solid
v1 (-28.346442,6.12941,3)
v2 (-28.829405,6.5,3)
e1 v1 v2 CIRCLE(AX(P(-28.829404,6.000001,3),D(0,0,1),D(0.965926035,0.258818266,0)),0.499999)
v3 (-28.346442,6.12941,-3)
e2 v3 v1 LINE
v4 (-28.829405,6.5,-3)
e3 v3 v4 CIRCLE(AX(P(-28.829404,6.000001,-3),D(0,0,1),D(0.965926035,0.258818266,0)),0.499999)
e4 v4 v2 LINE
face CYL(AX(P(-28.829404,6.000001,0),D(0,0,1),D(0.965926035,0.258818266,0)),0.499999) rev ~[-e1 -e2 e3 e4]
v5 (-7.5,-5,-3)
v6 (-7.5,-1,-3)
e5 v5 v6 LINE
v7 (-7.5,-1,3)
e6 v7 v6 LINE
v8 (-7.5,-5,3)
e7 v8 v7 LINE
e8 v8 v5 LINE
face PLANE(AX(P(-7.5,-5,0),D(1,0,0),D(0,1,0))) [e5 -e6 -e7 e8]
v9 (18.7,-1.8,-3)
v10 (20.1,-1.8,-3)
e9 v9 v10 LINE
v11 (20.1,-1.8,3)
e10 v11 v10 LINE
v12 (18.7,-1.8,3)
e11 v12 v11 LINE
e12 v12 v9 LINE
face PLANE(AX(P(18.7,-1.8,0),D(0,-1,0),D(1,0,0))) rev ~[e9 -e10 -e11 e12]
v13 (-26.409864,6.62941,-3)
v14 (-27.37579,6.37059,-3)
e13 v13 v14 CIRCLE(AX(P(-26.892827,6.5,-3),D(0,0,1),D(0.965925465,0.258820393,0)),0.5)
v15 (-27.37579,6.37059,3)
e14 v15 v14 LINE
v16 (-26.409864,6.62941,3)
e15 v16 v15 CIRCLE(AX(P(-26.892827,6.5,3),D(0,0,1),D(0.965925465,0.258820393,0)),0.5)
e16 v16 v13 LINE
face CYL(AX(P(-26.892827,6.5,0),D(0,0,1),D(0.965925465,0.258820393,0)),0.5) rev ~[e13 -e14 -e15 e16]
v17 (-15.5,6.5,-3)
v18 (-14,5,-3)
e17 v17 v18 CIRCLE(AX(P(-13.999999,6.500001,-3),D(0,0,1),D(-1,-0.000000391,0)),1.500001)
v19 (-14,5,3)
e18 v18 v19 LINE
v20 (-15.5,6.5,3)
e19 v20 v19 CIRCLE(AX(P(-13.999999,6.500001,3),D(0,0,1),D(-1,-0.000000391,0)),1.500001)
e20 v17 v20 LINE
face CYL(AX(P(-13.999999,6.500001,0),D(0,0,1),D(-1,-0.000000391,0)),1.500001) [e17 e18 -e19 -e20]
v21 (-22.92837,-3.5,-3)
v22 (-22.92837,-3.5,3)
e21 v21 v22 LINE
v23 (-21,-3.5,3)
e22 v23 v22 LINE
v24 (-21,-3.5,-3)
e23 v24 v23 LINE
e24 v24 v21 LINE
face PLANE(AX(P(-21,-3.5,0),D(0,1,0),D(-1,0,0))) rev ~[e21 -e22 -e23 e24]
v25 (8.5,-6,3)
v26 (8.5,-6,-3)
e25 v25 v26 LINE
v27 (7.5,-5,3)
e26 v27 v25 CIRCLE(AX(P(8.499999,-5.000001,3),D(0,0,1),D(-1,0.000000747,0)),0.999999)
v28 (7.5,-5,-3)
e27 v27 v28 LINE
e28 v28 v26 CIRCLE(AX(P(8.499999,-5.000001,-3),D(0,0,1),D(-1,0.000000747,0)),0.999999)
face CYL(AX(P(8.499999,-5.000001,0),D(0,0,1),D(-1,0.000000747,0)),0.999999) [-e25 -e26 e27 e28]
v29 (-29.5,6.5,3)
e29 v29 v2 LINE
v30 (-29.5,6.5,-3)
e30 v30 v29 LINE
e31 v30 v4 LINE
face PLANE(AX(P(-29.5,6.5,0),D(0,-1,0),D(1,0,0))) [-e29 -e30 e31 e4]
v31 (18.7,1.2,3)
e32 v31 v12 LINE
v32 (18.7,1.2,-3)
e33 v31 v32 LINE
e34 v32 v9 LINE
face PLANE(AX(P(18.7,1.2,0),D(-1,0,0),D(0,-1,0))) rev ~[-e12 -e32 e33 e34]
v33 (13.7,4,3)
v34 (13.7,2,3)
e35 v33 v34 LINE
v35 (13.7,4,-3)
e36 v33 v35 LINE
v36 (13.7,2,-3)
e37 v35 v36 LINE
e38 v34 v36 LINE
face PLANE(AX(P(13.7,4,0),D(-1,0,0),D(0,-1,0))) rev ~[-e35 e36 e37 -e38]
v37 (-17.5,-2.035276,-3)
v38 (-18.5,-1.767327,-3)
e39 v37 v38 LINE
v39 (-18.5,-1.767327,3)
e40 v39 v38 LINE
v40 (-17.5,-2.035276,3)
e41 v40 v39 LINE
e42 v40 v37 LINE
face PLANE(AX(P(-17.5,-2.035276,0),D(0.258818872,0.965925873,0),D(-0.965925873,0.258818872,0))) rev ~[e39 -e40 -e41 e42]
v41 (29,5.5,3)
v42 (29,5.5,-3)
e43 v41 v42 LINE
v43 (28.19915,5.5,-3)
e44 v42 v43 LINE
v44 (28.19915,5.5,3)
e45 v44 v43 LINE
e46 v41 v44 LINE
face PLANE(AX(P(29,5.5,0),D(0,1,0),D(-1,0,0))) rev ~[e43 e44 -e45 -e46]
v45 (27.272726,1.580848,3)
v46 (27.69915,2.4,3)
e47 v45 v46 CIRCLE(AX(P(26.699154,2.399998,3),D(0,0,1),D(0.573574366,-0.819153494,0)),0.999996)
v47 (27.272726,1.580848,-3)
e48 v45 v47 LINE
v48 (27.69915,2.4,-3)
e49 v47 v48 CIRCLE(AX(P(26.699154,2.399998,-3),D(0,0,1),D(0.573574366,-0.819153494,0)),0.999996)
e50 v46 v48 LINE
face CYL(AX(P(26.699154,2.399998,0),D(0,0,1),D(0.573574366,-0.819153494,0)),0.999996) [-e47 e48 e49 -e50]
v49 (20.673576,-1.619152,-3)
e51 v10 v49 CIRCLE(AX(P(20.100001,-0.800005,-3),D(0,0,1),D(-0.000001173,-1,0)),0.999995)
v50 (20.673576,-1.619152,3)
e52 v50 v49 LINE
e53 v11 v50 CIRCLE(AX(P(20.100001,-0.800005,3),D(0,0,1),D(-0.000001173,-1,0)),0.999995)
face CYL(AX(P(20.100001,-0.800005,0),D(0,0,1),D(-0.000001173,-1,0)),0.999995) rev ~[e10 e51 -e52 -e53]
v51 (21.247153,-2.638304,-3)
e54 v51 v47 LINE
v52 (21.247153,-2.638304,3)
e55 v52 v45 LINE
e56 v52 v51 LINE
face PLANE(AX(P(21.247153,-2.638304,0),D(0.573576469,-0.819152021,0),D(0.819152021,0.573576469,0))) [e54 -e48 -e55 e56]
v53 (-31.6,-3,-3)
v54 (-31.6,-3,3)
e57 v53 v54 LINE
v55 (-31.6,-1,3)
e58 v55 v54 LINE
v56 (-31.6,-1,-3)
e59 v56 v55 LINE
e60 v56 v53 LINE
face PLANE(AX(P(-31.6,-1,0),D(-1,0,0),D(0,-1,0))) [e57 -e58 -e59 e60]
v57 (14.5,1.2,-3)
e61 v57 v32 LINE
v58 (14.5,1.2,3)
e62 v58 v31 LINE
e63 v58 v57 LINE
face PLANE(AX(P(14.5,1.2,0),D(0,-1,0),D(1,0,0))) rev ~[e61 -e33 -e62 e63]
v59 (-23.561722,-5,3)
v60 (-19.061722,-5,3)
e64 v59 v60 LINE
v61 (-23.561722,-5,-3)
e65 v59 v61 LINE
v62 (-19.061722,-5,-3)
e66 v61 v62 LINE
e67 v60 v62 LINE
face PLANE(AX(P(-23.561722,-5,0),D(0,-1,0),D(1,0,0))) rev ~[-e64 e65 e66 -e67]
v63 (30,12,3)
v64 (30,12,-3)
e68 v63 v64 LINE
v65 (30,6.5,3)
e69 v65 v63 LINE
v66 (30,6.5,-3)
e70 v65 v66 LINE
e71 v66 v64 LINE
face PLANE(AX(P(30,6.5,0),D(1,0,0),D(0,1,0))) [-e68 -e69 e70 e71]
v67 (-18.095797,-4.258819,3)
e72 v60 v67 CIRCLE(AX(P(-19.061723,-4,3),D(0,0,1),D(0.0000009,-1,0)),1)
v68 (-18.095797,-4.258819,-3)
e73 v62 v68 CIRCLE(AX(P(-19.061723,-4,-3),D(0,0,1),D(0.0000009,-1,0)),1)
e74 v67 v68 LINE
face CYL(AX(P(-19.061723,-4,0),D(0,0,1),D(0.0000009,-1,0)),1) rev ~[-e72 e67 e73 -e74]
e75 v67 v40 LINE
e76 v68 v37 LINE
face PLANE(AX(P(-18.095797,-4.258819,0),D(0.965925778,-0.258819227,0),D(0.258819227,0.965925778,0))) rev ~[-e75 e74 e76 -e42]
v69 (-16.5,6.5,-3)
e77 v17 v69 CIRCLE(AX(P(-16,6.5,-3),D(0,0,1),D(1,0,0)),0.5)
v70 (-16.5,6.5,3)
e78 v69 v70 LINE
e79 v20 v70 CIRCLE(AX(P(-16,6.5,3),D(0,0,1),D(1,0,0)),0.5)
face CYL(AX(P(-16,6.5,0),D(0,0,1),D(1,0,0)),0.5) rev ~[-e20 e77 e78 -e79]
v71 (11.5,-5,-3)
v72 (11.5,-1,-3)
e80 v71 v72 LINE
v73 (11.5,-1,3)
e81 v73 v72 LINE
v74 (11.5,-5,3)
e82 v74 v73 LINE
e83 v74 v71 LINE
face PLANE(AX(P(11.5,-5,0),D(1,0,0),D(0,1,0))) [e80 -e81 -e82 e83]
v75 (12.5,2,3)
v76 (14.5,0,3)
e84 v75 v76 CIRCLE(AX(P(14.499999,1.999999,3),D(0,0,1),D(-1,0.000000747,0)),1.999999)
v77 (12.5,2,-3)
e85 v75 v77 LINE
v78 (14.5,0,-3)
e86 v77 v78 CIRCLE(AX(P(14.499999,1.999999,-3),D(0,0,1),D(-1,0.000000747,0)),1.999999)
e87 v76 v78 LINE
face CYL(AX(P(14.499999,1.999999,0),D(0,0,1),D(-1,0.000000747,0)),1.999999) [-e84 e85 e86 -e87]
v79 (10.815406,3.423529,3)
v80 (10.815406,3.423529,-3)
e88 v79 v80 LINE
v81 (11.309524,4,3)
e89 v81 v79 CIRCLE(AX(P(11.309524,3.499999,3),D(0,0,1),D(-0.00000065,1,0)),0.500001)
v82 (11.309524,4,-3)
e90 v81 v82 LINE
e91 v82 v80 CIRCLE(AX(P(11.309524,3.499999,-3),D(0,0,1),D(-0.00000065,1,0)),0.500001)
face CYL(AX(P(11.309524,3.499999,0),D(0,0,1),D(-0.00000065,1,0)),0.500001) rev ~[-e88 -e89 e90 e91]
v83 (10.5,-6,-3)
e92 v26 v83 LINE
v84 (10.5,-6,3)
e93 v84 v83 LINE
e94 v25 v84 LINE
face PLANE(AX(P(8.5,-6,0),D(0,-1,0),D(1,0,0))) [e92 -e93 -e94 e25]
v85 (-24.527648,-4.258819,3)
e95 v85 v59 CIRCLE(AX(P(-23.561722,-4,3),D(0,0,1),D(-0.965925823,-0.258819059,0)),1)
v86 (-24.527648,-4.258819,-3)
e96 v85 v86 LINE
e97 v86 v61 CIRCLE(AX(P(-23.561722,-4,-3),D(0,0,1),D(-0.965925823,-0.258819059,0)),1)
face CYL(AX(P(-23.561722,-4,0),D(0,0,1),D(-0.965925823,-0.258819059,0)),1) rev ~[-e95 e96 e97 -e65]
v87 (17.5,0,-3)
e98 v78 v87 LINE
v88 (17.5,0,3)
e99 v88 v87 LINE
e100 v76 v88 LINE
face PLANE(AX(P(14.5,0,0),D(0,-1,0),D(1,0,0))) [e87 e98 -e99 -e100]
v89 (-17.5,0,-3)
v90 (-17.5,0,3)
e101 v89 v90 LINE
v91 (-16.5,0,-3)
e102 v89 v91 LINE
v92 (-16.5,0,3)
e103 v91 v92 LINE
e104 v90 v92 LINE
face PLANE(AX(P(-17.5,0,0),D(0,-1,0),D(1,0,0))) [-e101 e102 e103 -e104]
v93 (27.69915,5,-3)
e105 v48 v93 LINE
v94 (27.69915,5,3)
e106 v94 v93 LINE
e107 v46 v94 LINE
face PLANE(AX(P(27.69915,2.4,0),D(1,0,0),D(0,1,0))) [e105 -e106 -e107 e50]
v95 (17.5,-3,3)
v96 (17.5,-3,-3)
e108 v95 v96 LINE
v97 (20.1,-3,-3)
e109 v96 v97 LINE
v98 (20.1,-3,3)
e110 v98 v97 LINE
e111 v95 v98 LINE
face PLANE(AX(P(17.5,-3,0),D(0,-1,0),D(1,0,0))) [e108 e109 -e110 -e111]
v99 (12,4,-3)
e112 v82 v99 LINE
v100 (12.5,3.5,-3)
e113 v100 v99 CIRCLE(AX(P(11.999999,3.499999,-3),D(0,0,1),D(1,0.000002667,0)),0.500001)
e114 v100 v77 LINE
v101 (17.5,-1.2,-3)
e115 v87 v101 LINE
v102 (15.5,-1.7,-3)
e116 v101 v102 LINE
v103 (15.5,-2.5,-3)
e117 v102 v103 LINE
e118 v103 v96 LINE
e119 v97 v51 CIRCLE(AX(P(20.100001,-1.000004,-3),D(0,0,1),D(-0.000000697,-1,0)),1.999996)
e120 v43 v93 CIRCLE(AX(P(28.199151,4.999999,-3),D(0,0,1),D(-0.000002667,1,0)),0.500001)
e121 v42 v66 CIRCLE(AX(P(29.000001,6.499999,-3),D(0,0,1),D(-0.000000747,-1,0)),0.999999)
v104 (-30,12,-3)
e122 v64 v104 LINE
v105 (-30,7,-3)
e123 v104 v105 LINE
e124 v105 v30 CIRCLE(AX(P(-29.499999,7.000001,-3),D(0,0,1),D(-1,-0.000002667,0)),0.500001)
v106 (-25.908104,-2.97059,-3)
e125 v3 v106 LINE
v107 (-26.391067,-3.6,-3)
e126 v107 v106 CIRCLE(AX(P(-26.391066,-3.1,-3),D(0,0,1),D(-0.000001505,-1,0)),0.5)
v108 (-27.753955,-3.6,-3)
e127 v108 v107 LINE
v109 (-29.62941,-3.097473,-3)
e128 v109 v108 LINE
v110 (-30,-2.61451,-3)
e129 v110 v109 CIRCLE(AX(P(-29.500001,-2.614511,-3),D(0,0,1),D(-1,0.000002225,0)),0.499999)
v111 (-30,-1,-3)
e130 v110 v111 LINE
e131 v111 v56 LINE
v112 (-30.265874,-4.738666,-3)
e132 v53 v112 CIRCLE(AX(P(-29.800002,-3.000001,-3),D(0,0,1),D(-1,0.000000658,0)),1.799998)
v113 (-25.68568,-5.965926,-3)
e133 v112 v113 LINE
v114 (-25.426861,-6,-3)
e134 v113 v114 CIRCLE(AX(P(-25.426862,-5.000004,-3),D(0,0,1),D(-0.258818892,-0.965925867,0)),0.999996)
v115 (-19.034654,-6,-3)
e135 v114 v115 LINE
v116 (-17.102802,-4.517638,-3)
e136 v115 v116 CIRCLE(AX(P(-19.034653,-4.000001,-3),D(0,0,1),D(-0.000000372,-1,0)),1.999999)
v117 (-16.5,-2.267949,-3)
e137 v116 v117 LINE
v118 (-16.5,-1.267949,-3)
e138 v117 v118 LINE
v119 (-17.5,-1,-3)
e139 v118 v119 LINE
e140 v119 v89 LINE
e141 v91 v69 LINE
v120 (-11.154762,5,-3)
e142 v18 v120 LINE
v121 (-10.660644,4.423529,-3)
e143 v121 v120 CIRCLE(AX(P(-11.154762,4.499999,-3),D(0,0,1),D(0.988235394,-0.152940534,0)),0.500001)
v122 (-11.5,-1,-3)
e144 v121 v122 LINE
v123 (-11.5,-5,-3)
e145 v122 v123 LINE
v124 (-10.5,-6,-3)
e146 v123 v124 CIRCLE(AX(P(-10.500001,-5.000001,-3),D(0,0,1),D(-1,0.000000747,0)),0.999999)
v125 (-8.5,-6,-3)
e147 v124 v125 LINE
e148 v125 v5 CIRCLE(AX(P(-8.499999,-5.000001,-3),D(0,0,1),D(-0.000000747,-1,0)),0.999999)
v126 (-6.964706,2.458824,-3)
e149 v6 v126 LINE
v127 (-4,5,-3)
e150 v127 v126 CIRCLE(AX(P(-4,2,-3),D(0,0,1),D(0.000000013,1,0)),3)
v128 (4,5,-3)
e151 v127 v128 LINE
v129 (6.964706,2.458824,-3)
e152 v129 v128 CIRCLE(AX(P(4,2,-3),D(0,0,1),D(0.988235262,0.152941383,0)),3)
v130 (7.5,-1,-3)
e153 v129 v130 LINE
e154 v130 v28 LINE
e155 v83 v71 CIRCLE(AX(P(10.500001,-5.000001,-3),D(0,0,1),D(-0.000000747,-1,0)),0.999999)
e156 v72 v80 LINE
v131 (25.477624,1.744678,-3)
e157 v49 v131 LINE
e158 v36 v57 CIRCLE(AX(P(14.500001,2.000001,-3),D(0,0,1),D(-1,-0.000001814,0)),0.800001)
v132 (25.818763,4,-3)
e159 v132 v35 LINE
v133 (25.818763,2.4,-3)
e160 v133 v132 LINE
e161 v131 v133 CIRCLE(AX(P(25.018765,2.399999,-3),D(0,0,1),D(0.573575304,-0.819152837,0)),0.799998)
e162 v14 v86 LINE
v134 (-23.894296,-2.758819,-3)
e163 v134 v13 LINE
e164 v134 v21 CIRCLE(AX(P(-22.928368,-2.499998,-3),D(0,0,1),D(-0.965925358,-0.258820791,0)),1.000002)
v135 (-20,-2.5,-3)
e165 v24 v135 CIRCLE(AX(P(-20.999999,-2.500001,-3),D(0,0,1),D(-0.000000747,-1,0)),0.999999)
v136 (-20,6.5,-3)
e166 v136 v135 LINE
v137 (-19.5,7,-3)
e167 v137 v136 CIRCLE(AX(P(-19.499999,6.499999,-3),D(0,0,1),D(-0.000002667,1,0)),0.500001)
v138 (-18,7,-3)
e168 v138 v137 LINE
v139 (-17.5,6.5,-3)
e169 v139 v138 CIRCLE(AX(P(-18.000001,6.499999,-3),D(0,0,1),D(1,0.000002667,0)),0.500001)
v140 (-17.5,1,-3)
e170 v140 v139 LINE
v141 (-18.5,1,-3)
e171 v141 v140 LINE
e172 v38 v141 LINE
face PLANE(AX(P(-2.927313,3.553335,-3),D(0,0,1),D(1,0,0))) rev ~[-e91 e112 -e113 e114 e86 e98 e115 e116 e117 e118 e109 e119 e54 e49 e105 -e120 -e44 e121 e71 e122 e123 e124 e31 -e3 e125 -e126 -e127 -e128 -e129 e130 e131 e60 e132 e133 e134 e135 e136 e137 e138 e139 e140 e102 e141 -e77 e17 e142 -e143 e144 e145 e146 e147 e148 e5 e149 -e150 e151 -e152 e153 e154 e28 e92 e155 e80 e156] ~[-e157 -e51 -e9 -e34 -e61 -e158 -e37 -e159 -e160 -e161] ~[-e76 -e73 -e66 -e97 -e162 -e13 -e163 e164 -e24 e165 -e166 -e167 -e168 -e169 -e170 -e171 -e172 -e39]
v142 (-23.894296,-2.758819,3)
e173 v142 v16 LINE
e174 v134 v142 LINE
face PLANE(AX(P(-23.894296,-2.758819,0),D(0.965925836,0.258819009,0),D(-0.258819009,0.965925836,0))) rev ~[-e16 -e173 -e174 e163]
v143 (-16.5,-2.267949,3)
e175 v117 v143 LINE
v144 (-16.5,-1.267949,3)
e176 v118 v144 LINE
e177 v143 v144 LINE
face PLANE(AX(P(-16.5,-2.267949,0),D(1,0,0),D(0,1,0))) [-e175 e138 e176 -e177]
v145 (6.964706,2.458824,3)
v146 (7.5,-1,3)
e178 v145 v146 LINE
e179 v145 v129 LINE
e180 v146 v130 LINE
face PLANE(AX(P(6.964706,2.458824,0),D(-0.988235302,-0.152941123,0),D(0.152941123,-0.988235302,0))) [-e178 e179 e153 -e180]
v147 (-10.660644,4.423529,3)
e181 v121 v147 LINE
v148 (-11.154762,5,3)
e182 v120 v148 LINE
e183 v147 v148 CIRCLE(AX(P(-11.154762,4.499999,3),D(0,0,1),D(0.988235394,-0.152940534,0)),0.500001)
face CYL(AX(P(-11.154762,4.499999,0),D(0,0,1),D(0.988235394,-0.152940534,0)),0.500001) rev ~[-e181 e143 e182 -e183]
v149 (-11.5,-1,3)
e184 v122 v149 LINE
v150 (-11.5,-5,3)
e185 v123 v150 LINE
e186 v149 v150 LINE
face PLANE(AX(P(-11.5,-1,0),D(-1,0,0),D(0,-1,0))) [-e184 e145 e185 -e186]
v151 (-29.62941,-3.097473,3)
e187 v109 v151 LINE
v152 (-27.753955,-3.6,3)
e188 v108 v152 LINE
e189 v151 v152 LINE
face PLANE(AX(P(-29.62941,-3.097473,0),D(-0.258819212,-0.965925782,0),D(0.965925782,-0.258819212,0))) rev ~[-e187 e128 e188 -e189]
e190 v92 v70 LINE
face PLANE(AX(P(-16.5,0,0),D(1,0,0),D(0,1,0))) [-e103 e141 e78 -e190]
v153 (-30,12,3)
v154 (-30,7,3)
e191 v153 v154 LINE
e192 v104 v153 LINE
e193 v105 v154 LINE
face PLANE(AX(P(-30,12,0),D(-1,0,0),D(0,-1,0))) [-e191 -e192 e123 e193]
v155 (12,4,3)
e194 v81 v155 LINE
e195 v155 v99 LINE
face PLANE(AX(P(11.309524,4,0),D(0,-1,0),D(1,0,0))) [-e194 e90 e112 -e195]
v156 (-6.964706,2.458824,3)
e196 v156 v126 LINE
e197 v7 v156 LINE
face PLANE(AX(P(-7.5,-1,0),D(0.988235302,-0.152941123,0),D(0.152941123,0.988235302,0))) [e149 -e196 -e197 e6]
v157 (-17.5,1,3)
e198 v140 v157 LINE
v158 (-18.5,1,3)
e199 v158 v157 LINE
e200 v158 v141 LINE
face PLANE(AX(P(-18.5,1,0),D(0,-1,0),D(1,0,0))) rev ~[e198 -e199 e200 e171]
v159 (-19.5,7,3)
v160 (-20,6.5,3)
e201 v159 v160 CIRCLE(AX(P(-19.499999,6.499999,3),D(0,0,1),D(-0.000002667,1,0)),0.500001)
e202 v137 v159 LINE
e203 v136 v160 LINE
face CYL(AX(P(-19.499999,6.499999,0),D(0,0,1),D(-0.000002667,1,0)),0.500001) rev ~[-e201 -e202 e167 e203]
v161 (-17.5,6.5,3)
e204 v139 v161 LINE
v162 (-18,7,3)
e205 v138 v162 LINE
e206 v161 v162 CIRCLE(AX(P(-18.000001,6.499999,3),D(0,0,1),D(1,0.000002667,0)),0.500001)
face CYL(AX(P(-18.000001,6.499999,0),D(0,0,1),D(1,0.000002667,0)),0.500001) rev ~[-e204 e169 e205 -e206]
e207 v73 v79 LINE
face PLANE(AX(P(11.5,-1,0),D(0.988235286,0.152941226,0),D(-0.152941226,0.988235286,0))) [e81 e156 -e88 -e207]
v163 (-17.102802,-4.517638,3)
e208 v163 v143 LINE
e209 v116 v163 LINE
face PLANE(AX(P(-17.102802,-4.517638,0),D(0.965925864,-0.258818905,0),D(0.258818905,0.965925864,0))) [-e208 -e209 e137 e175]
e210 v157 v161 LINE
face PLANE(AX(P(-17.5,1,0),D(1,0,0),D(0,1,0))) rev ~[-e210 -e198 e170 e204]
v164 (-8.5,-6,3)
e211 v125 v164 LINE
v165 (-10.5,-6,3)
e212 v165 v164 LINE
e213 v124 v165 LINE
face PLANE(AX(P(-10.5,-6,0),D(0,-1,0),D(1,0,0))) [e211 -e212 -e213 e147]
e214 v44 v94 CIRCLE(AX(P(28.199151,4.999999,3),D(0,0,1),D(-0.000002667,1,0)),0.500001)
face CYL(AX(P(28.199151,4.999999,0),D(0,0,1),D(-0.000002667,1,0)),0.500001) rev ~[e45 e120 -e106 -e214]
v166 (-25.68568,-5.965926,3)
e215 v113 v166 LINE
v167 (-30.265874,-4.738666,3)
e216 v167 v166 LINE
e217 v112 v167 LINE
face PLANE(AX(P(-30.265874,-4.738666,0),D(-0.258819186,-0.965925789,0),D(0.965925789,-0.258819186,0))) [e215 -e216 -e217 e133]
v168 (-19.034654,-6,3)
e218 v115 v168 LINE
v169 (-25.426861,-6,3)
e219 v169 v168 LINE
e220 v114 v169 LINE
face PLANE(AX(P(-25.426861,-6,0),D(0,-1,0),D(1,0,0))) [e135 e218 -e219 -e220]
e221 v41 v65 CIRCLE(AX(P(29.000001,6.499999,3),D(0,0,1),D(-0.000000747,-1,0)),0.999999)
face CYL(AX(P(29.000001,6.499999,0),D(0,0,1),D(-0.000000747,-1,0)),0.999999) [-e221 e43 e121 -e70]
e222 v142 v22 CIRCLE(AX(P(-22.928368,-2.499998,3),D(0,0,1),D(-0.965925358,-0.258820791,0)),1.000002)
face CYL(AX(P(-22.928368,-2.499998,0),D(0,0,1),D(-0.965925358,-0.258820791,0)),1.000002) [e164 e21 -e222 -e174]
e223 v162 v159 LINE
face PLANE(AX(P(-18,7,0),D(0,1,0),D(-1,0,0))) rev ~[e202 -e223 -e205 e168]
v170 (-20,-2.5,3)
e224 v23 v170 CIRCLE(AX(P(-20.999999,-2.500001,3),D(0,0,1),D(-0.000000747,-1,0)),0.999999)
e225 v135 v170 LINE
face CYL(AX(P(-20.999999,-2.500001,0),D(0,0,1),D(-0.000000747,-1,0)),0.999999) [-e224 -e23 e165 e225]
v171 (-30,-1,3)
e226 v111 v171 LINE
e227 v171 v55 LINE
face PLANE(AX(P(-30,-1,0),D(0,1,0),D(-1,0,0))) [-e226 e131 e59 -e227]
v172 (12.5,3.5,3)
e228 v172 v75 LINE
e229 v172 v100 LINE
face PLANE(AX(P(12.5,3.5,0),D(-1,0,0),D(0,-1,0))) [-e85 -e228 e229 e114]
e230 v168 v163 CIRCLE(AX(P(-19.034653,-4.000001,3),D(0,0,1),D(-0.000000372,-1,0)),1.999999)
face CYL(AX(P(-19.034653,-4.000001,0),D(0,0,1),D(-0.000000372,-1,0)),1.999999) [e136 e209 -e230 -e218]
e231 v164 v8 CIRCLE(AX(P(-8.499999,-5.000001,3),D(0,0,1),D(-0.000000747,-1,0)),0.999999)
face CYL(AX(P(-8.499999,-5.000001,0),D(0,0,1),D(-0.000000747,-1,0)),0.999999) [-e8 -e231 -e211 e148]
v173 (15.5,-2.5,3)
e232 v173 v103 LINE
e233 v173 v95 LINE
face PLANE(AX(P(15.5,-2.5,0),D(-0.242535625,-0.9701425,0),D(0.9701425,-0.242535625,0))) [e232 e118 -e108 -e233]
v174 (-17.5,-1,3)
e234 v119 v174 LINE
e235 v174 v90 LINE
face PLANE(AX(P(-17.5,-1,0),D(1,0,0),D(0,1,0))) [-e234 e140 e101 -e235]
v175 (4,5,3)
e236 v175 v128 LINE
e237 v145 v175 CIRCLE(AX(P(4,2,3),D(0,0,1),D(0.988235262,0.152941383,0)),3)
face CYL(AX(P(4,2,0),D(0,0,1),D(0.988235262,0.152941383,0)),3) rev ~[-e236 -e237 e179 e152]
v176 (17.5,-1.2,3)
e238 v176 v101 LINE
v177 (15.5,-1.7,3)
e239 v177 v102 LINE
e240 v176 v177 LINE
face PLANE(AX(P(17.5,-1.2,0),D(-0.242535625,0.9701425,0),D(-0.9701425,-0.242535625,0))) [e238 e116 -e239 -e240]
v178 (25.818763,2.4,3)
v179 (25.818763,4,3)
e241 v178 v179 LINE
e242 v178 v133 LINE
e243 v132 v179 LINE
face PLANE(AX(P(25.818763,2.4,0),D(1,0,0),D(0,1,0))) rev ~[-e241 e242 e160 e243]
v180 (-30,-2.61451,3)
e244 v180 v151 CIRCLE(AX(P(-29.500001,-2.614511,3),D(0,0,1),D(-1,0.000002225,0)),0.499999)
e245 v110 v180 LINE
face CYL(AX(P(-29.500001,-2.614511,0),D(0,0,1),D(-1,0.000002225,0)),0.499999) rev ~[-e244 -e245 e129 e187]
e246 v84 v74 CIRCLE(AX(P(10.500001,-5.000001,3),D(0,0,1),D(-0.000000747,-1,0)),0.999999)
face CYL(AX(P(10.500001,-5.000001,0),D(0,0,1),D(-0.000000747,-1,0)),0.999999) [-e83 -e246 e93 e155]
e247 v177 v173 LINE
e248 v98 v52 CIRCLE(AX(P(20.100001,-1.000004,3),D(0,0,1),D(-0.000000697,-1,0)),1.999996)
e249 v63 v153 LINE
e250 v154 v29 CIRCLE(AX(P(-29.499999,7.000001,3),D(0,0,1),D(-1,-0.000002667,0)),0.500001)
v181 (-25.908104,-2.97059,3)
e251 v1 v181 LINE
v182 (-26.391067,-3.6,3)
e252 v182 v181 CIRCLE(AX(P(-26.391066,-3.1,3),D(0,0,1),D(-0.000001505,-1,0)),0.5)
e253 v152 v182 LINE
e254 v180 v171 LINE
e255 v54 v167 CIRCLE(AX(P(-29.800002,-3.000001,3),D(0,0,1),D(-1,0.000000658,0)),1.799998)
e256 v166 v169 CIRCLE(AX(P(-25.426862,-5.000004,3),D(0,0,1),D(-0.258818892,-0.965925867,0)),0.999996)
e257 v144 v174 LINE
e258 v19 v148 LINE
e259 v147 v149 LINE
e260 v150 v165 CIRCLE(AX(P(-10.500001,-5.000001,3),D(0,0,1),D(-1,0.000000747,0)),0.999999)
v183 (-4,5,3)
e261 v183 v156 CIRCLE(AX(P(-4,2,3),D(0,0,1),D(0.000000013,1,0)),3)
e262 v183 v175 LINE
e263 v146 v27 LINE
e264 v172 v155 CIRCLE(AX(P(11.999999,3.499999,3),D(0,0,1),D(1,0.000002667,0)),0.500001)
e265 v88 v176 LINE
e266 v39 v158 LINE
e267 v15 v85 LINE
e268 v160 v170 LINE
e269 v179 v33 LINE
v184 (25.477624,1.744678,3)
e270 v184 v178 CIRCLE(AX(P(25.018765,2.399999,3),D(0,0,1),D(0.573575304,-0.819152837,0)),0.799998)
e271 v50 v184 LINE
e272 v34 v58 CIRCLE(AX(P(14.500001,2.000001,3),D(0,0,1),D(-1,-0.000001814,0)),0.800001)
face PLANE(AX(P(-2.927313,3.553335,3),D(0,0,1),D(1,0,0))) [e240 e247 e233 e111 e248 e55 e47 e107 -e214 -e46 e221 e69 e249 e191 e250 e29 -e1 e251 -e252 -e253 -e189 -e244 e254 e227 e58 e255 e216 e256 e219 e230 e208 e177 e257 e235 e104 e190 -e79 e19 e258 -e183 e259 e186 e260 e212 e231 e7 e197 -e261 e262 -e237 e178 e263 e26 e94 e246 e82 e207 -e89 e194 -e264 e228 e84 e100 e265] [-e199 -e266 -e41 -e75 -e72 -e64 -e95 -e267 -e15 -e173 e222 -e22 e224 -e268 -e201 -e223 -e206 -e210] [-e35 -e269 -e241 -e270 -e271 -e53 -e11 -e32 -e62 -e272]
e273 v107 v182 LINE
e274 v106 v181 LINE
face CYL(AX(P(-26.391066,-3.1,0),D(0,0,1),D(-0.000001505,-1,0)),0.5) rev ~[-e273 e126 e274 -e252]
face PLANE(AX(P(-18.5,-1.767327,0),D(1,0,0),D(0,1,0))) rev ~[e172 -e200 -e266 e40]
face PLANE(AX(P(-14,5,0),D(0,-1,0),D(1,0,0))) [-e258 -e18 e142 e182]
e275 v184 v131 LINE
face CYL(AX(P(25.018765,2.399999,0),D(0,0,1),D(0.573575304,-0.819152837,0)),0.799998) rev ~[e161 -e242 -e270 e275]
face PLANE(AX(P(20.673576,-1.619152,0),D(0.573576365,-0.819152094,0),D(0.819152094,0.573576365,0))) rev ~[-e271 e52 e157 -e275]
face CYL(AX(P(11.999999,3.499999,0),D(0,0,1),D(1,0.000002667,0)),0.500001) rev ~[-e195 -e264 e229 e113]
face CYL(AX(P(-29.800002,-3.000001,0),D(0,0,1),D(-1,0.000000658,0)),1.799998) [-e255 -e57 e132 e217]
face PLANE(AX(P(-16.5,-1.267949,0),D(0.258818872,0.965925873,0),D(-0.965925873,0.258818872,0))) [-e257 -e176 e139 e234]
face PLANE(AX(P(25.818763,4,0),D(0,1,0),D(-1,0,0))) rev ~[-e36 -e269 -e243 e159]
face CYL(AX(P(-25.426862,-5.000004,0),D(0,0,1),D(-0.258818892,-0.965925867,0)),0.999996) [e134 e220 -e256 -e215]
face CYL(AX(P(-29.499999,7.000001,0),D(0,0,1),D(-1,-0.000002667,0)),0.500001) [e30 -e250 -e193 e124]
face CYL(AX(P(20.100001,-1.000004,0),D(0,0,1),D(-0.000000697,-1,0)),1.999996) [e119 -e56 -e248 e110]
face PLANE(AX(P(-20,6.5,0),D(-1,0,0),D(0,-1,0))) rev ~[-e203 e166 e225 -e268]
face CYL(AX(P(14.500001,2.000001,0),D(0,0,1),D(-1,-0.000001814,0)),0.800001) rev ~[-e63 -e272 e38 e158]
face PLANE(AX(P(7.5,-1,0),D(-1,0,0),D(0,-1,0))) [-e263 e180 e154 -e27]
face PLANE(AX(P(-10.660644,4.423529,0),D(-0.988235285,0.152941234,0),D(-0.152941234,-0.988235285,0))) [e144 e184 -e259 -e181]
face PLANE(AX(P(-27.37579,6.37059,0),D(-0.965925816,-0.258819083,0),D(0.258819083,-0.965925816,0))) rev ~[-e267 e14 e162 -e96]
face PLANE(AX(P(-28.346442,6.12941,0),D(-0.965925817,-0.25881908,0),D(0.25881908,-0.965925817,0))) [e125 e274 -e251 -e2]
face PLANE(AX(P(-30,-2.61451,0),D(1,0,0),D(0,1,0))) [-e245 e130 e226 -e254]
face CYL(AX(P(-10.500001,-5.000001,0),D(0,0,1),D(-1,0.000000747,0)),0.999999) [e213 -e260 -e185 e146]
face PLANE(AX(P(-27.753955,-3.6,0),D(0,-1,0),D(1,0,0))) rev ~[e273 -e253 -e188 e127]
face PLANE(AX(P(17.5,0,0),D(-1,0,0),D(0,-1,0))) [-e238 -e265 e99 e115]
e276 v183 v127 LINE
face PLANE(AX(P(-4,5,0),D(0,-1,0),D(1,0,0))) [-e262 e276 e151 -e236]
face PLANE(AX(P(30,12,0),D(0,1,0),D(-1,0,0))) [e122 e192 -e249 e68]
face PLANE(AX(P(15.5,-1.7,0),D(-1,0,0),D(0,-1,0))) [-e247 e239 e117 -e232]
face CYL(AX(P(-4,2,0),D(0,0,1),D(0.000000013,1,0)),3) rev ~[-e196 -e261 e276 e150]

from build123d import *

# Parameters (mm, degrees)
PAD_DEPTH = 3


with BuildPart() as part:
    # Sketch → Pad (new body, symmetric)
    with BuildSketch(Plane.XY):
        with BuildLine():
            Line((30, 12), (-30, 12))
            Line((-30, 12), (-30, 7))
            ThreePointArc((-30, 7), (-29.853553, 6.646447), (-29.5, 6.5))
            Line((-29.5, 6.5), (-28.829405, 6.5))
            ThreePointArc((-28.346442, 6.12941), (-28.525024, 6.396677), (-28.829405, 6.5))
            Line((-28.346442, 6.12941), (-25.908104, -2.97059))
            ThreePointArc((-26.391067, -3.6), (-25.99439, -3.404381), (-25.908104, -2.97059))
            Line((-27.753955, -3.6), (-26.391067, -3.6))
            Line((-29.62941, -3.097473), (-27.753955, -3.6))
            ThreePointArc((-30, -2.61451), (-29.896677, -2.918891), (-29.62941, -3.097473))
            Line((-30, -2.61451), (-30, -1))
            Line((-30, -1), (-31.6, -1))
            Line((-31.6, -1), (-31.6, -3))
            ThreePointArc((-31.6, -3), (-31.228036, -4.095771), (-30.265874, -4.738666))
            Line((-30.265874, -4.738666), (-25.68568, -5.965926))
            ThreePointArc((-25.68568, -5.965926), (-25.557387, -5.991445), (-25.426861, -6))
            Line((-25.426861, -6), (-19.034654, -6))
            ThreePointArc((-19.034654, -6), (-17.817131, -5.586707), (-17.102802, -4.517638))
            Line((-17.102802, -4.517638), (-16.5, -2.267949))
            Line((-16.5, -2.267949), (-16.5, -1.267949))
            Line((-16.5, -1.267949), (-17.5, -1))
            Line((-17.5, -1), (-17.5, 0))
            Line((-17.5, 0), (-16.5, 0))
            Line((-16.5, 0), (-16.5, 6.5))
            ThreePointArc((-15.5, 6.5), (-16, 7), (-16.5, 6.5))
            ThreePointArc((-15.5, 6.5), (-15.06066, 5.43934), (-14, 5))
            Line((-14, 5), (-11.154762, 5))
            ThreePointArc((-10.660644, 4.423529), (-10.775134, 4.825396), (-11.154762, 5))
            Line((-10.660644, 4.423529), (-11.5, -1))
            Line((-11.5, -1), (-11.5, -5))
            ThreePointArc((-11.5, -5), (-11.207107, -5.707107), (-10.5, -6))
            Line((-10.5, -6), (-8.5, -6))
            ThreePointArc((-8.5, -6), (-7.792893, -5.707107), (-7.5, -5))
            Line((-7.5, -5), (-7.5, -1))
            Line((-7.5, -1), (-6.964706, 2.458824))
            ThreePointArc((-4, 5), (-5.952374, 4.27777), (-6.964706, 2.458824))
            Line((-4, 5), (4, 5))
            ThreePointArc((6.964706, 2.458824), (5.952374, 4.27777), (4, 5))
            Line((6.964706, 2.458824), (7.5, -1))
            Line((7.5, -1), (7.5, -5))
            ThreePointArc((7.5, -5), (7.792893, -5.707107), (8.5, -6))
            Line((8.5, -6), (10.5, -6))
            ThreePointArc((10.5, -6), (11.207107, -5.707107), (11.5, -5))
            Line((11.5, -5), (11.5, -1))
            Line((11.5, -1), (10.815406, 3.423529))
            ThreePointArc((11.309524, 4), (10.929896, 3.825396), (10.815406, 3.423529))
            Line((11.309524, 4), (12, 4))
            ThreePointArc((12.5, 3.5), (12.353553, 3.853553), (12, 4))
            Line((12.5, 3.5), (12.5, 2))
            ThreePointArc((12.5, 2), (13.085786, 0.585786), (14.5, 0))
            Line((14.5, 0), (17.5, 0))
            Line((17.5, 0), (17.5, -1.2))
            Line((17.5, -1.2), (15.5, -1.7))
            Line((15.5, -1.7), (15.5, -2.5))
            Line((15.5, -2.5), (17.5, -3))
            Line((17.5, -3), (20.1, -3))
            ThreePointArc((20.1, -3), (20.701412, -2.907434), (21.247153, -2.638304))
            Line((21.247153, -2.638304), (27.272726, 1.580848))
            ThreePointArc((27.272726, 1.580848), (27.586161, 1.938251), (27.69915, 2.4))
            Line((27.69915, 2.4), (27.69915, 5))
            ThreePointArc((28.19915, 5.5), (27.845597, 5.353553), (27.69915, 5))
            Line((29, 5.5), (28.19915, 5.5))
            ThreePointArc((29, 5.5), (29.707107, 5.792893), (30, 6.5))
            Line((30, 6.5), (30, 12))
        make_face()
        with BuildLine():
            Line((-23.894296, -2.758819), (-26.409864, 6.62941))
            ThreePointArc((-26.409864, 6.62941), (-27.022236, 6.982963), (-27.37579, 6.37059))
            Line((-27.37579, 6.37059), (-24.527648, -4.258819))
            ThreePointArc((-24.527648, -4.258819), (-24.170484, -4.793353), (-23.561722, -5))
            Line((-23.561722, -5), (-19.061722, -5))
            ThreePointArc((-19.061722, -5), (-18.452961, -4.793353), (-18.095797, -4.258819))
            Line((-18.095797, -4.258819), (-17.5, -2.035276))
            Line((-17.5, -2.035276), (-18.5, -1.767327))
            Line((-18.5, -1.767327), (-18.5, 1))
            Line((-18.5, 1), (-17.5, 1))
            Line((-17.5, 1), (-17.5, 6.5))
            ThreePointArc((-17.5, 6.5), (-17.646447, 6.853553), (-18, 7))
            Line((-18, 7), (-19.5, 7))
            ThreePointArc((-19.5, 7), (-19.853553, 6.853553), (-20, 6.5))
            Line((-20, 6.5), (-20, -2.5))
            ThreePointArc((-21, -3.5), (-20.292893, -3.207107), (-20, -2.5))
            Line((-21, -3.5), (-22.92837, -3.5))
            ThreePointArc((-23.894296, -2.758819), (-23.537131, -3.293353), (-22.92837, -3.5))
        make_face(mode=Mode.SUBTRACT)
        with BuildLine():
            Line((25.818763, 4), (13.7, 4))
            Line((13.7, 4), (13.7, 2))
            ThreePointArc((13.7, 2), (13.934315, 1.434315), (14.5, 1.2))
            Line((14.5, 1.2), (18.7, 1.2))
            Line((18.7, 1.2), (18.7, -1.8))
            Line((18.7, -1.8), (20.1, -1.8))
            ThreePointArc((20.1, -1.8), (20.400706, -1.753717), (20.673576, -1.619152))
            Line((20.673576, -1.619152), (25.477624, 1.744678))
            ThreePointArc((25.477624, 1.744678), (25.728372, 2.030601), (25.818763, 2.4))
            Line((25.818763, 2.4), (25.818763, 4))
        make_face(mode=Mode.SUBTRACT)
    extrude(amount=PAD_DEPTH, both=True)


solid = part.part
